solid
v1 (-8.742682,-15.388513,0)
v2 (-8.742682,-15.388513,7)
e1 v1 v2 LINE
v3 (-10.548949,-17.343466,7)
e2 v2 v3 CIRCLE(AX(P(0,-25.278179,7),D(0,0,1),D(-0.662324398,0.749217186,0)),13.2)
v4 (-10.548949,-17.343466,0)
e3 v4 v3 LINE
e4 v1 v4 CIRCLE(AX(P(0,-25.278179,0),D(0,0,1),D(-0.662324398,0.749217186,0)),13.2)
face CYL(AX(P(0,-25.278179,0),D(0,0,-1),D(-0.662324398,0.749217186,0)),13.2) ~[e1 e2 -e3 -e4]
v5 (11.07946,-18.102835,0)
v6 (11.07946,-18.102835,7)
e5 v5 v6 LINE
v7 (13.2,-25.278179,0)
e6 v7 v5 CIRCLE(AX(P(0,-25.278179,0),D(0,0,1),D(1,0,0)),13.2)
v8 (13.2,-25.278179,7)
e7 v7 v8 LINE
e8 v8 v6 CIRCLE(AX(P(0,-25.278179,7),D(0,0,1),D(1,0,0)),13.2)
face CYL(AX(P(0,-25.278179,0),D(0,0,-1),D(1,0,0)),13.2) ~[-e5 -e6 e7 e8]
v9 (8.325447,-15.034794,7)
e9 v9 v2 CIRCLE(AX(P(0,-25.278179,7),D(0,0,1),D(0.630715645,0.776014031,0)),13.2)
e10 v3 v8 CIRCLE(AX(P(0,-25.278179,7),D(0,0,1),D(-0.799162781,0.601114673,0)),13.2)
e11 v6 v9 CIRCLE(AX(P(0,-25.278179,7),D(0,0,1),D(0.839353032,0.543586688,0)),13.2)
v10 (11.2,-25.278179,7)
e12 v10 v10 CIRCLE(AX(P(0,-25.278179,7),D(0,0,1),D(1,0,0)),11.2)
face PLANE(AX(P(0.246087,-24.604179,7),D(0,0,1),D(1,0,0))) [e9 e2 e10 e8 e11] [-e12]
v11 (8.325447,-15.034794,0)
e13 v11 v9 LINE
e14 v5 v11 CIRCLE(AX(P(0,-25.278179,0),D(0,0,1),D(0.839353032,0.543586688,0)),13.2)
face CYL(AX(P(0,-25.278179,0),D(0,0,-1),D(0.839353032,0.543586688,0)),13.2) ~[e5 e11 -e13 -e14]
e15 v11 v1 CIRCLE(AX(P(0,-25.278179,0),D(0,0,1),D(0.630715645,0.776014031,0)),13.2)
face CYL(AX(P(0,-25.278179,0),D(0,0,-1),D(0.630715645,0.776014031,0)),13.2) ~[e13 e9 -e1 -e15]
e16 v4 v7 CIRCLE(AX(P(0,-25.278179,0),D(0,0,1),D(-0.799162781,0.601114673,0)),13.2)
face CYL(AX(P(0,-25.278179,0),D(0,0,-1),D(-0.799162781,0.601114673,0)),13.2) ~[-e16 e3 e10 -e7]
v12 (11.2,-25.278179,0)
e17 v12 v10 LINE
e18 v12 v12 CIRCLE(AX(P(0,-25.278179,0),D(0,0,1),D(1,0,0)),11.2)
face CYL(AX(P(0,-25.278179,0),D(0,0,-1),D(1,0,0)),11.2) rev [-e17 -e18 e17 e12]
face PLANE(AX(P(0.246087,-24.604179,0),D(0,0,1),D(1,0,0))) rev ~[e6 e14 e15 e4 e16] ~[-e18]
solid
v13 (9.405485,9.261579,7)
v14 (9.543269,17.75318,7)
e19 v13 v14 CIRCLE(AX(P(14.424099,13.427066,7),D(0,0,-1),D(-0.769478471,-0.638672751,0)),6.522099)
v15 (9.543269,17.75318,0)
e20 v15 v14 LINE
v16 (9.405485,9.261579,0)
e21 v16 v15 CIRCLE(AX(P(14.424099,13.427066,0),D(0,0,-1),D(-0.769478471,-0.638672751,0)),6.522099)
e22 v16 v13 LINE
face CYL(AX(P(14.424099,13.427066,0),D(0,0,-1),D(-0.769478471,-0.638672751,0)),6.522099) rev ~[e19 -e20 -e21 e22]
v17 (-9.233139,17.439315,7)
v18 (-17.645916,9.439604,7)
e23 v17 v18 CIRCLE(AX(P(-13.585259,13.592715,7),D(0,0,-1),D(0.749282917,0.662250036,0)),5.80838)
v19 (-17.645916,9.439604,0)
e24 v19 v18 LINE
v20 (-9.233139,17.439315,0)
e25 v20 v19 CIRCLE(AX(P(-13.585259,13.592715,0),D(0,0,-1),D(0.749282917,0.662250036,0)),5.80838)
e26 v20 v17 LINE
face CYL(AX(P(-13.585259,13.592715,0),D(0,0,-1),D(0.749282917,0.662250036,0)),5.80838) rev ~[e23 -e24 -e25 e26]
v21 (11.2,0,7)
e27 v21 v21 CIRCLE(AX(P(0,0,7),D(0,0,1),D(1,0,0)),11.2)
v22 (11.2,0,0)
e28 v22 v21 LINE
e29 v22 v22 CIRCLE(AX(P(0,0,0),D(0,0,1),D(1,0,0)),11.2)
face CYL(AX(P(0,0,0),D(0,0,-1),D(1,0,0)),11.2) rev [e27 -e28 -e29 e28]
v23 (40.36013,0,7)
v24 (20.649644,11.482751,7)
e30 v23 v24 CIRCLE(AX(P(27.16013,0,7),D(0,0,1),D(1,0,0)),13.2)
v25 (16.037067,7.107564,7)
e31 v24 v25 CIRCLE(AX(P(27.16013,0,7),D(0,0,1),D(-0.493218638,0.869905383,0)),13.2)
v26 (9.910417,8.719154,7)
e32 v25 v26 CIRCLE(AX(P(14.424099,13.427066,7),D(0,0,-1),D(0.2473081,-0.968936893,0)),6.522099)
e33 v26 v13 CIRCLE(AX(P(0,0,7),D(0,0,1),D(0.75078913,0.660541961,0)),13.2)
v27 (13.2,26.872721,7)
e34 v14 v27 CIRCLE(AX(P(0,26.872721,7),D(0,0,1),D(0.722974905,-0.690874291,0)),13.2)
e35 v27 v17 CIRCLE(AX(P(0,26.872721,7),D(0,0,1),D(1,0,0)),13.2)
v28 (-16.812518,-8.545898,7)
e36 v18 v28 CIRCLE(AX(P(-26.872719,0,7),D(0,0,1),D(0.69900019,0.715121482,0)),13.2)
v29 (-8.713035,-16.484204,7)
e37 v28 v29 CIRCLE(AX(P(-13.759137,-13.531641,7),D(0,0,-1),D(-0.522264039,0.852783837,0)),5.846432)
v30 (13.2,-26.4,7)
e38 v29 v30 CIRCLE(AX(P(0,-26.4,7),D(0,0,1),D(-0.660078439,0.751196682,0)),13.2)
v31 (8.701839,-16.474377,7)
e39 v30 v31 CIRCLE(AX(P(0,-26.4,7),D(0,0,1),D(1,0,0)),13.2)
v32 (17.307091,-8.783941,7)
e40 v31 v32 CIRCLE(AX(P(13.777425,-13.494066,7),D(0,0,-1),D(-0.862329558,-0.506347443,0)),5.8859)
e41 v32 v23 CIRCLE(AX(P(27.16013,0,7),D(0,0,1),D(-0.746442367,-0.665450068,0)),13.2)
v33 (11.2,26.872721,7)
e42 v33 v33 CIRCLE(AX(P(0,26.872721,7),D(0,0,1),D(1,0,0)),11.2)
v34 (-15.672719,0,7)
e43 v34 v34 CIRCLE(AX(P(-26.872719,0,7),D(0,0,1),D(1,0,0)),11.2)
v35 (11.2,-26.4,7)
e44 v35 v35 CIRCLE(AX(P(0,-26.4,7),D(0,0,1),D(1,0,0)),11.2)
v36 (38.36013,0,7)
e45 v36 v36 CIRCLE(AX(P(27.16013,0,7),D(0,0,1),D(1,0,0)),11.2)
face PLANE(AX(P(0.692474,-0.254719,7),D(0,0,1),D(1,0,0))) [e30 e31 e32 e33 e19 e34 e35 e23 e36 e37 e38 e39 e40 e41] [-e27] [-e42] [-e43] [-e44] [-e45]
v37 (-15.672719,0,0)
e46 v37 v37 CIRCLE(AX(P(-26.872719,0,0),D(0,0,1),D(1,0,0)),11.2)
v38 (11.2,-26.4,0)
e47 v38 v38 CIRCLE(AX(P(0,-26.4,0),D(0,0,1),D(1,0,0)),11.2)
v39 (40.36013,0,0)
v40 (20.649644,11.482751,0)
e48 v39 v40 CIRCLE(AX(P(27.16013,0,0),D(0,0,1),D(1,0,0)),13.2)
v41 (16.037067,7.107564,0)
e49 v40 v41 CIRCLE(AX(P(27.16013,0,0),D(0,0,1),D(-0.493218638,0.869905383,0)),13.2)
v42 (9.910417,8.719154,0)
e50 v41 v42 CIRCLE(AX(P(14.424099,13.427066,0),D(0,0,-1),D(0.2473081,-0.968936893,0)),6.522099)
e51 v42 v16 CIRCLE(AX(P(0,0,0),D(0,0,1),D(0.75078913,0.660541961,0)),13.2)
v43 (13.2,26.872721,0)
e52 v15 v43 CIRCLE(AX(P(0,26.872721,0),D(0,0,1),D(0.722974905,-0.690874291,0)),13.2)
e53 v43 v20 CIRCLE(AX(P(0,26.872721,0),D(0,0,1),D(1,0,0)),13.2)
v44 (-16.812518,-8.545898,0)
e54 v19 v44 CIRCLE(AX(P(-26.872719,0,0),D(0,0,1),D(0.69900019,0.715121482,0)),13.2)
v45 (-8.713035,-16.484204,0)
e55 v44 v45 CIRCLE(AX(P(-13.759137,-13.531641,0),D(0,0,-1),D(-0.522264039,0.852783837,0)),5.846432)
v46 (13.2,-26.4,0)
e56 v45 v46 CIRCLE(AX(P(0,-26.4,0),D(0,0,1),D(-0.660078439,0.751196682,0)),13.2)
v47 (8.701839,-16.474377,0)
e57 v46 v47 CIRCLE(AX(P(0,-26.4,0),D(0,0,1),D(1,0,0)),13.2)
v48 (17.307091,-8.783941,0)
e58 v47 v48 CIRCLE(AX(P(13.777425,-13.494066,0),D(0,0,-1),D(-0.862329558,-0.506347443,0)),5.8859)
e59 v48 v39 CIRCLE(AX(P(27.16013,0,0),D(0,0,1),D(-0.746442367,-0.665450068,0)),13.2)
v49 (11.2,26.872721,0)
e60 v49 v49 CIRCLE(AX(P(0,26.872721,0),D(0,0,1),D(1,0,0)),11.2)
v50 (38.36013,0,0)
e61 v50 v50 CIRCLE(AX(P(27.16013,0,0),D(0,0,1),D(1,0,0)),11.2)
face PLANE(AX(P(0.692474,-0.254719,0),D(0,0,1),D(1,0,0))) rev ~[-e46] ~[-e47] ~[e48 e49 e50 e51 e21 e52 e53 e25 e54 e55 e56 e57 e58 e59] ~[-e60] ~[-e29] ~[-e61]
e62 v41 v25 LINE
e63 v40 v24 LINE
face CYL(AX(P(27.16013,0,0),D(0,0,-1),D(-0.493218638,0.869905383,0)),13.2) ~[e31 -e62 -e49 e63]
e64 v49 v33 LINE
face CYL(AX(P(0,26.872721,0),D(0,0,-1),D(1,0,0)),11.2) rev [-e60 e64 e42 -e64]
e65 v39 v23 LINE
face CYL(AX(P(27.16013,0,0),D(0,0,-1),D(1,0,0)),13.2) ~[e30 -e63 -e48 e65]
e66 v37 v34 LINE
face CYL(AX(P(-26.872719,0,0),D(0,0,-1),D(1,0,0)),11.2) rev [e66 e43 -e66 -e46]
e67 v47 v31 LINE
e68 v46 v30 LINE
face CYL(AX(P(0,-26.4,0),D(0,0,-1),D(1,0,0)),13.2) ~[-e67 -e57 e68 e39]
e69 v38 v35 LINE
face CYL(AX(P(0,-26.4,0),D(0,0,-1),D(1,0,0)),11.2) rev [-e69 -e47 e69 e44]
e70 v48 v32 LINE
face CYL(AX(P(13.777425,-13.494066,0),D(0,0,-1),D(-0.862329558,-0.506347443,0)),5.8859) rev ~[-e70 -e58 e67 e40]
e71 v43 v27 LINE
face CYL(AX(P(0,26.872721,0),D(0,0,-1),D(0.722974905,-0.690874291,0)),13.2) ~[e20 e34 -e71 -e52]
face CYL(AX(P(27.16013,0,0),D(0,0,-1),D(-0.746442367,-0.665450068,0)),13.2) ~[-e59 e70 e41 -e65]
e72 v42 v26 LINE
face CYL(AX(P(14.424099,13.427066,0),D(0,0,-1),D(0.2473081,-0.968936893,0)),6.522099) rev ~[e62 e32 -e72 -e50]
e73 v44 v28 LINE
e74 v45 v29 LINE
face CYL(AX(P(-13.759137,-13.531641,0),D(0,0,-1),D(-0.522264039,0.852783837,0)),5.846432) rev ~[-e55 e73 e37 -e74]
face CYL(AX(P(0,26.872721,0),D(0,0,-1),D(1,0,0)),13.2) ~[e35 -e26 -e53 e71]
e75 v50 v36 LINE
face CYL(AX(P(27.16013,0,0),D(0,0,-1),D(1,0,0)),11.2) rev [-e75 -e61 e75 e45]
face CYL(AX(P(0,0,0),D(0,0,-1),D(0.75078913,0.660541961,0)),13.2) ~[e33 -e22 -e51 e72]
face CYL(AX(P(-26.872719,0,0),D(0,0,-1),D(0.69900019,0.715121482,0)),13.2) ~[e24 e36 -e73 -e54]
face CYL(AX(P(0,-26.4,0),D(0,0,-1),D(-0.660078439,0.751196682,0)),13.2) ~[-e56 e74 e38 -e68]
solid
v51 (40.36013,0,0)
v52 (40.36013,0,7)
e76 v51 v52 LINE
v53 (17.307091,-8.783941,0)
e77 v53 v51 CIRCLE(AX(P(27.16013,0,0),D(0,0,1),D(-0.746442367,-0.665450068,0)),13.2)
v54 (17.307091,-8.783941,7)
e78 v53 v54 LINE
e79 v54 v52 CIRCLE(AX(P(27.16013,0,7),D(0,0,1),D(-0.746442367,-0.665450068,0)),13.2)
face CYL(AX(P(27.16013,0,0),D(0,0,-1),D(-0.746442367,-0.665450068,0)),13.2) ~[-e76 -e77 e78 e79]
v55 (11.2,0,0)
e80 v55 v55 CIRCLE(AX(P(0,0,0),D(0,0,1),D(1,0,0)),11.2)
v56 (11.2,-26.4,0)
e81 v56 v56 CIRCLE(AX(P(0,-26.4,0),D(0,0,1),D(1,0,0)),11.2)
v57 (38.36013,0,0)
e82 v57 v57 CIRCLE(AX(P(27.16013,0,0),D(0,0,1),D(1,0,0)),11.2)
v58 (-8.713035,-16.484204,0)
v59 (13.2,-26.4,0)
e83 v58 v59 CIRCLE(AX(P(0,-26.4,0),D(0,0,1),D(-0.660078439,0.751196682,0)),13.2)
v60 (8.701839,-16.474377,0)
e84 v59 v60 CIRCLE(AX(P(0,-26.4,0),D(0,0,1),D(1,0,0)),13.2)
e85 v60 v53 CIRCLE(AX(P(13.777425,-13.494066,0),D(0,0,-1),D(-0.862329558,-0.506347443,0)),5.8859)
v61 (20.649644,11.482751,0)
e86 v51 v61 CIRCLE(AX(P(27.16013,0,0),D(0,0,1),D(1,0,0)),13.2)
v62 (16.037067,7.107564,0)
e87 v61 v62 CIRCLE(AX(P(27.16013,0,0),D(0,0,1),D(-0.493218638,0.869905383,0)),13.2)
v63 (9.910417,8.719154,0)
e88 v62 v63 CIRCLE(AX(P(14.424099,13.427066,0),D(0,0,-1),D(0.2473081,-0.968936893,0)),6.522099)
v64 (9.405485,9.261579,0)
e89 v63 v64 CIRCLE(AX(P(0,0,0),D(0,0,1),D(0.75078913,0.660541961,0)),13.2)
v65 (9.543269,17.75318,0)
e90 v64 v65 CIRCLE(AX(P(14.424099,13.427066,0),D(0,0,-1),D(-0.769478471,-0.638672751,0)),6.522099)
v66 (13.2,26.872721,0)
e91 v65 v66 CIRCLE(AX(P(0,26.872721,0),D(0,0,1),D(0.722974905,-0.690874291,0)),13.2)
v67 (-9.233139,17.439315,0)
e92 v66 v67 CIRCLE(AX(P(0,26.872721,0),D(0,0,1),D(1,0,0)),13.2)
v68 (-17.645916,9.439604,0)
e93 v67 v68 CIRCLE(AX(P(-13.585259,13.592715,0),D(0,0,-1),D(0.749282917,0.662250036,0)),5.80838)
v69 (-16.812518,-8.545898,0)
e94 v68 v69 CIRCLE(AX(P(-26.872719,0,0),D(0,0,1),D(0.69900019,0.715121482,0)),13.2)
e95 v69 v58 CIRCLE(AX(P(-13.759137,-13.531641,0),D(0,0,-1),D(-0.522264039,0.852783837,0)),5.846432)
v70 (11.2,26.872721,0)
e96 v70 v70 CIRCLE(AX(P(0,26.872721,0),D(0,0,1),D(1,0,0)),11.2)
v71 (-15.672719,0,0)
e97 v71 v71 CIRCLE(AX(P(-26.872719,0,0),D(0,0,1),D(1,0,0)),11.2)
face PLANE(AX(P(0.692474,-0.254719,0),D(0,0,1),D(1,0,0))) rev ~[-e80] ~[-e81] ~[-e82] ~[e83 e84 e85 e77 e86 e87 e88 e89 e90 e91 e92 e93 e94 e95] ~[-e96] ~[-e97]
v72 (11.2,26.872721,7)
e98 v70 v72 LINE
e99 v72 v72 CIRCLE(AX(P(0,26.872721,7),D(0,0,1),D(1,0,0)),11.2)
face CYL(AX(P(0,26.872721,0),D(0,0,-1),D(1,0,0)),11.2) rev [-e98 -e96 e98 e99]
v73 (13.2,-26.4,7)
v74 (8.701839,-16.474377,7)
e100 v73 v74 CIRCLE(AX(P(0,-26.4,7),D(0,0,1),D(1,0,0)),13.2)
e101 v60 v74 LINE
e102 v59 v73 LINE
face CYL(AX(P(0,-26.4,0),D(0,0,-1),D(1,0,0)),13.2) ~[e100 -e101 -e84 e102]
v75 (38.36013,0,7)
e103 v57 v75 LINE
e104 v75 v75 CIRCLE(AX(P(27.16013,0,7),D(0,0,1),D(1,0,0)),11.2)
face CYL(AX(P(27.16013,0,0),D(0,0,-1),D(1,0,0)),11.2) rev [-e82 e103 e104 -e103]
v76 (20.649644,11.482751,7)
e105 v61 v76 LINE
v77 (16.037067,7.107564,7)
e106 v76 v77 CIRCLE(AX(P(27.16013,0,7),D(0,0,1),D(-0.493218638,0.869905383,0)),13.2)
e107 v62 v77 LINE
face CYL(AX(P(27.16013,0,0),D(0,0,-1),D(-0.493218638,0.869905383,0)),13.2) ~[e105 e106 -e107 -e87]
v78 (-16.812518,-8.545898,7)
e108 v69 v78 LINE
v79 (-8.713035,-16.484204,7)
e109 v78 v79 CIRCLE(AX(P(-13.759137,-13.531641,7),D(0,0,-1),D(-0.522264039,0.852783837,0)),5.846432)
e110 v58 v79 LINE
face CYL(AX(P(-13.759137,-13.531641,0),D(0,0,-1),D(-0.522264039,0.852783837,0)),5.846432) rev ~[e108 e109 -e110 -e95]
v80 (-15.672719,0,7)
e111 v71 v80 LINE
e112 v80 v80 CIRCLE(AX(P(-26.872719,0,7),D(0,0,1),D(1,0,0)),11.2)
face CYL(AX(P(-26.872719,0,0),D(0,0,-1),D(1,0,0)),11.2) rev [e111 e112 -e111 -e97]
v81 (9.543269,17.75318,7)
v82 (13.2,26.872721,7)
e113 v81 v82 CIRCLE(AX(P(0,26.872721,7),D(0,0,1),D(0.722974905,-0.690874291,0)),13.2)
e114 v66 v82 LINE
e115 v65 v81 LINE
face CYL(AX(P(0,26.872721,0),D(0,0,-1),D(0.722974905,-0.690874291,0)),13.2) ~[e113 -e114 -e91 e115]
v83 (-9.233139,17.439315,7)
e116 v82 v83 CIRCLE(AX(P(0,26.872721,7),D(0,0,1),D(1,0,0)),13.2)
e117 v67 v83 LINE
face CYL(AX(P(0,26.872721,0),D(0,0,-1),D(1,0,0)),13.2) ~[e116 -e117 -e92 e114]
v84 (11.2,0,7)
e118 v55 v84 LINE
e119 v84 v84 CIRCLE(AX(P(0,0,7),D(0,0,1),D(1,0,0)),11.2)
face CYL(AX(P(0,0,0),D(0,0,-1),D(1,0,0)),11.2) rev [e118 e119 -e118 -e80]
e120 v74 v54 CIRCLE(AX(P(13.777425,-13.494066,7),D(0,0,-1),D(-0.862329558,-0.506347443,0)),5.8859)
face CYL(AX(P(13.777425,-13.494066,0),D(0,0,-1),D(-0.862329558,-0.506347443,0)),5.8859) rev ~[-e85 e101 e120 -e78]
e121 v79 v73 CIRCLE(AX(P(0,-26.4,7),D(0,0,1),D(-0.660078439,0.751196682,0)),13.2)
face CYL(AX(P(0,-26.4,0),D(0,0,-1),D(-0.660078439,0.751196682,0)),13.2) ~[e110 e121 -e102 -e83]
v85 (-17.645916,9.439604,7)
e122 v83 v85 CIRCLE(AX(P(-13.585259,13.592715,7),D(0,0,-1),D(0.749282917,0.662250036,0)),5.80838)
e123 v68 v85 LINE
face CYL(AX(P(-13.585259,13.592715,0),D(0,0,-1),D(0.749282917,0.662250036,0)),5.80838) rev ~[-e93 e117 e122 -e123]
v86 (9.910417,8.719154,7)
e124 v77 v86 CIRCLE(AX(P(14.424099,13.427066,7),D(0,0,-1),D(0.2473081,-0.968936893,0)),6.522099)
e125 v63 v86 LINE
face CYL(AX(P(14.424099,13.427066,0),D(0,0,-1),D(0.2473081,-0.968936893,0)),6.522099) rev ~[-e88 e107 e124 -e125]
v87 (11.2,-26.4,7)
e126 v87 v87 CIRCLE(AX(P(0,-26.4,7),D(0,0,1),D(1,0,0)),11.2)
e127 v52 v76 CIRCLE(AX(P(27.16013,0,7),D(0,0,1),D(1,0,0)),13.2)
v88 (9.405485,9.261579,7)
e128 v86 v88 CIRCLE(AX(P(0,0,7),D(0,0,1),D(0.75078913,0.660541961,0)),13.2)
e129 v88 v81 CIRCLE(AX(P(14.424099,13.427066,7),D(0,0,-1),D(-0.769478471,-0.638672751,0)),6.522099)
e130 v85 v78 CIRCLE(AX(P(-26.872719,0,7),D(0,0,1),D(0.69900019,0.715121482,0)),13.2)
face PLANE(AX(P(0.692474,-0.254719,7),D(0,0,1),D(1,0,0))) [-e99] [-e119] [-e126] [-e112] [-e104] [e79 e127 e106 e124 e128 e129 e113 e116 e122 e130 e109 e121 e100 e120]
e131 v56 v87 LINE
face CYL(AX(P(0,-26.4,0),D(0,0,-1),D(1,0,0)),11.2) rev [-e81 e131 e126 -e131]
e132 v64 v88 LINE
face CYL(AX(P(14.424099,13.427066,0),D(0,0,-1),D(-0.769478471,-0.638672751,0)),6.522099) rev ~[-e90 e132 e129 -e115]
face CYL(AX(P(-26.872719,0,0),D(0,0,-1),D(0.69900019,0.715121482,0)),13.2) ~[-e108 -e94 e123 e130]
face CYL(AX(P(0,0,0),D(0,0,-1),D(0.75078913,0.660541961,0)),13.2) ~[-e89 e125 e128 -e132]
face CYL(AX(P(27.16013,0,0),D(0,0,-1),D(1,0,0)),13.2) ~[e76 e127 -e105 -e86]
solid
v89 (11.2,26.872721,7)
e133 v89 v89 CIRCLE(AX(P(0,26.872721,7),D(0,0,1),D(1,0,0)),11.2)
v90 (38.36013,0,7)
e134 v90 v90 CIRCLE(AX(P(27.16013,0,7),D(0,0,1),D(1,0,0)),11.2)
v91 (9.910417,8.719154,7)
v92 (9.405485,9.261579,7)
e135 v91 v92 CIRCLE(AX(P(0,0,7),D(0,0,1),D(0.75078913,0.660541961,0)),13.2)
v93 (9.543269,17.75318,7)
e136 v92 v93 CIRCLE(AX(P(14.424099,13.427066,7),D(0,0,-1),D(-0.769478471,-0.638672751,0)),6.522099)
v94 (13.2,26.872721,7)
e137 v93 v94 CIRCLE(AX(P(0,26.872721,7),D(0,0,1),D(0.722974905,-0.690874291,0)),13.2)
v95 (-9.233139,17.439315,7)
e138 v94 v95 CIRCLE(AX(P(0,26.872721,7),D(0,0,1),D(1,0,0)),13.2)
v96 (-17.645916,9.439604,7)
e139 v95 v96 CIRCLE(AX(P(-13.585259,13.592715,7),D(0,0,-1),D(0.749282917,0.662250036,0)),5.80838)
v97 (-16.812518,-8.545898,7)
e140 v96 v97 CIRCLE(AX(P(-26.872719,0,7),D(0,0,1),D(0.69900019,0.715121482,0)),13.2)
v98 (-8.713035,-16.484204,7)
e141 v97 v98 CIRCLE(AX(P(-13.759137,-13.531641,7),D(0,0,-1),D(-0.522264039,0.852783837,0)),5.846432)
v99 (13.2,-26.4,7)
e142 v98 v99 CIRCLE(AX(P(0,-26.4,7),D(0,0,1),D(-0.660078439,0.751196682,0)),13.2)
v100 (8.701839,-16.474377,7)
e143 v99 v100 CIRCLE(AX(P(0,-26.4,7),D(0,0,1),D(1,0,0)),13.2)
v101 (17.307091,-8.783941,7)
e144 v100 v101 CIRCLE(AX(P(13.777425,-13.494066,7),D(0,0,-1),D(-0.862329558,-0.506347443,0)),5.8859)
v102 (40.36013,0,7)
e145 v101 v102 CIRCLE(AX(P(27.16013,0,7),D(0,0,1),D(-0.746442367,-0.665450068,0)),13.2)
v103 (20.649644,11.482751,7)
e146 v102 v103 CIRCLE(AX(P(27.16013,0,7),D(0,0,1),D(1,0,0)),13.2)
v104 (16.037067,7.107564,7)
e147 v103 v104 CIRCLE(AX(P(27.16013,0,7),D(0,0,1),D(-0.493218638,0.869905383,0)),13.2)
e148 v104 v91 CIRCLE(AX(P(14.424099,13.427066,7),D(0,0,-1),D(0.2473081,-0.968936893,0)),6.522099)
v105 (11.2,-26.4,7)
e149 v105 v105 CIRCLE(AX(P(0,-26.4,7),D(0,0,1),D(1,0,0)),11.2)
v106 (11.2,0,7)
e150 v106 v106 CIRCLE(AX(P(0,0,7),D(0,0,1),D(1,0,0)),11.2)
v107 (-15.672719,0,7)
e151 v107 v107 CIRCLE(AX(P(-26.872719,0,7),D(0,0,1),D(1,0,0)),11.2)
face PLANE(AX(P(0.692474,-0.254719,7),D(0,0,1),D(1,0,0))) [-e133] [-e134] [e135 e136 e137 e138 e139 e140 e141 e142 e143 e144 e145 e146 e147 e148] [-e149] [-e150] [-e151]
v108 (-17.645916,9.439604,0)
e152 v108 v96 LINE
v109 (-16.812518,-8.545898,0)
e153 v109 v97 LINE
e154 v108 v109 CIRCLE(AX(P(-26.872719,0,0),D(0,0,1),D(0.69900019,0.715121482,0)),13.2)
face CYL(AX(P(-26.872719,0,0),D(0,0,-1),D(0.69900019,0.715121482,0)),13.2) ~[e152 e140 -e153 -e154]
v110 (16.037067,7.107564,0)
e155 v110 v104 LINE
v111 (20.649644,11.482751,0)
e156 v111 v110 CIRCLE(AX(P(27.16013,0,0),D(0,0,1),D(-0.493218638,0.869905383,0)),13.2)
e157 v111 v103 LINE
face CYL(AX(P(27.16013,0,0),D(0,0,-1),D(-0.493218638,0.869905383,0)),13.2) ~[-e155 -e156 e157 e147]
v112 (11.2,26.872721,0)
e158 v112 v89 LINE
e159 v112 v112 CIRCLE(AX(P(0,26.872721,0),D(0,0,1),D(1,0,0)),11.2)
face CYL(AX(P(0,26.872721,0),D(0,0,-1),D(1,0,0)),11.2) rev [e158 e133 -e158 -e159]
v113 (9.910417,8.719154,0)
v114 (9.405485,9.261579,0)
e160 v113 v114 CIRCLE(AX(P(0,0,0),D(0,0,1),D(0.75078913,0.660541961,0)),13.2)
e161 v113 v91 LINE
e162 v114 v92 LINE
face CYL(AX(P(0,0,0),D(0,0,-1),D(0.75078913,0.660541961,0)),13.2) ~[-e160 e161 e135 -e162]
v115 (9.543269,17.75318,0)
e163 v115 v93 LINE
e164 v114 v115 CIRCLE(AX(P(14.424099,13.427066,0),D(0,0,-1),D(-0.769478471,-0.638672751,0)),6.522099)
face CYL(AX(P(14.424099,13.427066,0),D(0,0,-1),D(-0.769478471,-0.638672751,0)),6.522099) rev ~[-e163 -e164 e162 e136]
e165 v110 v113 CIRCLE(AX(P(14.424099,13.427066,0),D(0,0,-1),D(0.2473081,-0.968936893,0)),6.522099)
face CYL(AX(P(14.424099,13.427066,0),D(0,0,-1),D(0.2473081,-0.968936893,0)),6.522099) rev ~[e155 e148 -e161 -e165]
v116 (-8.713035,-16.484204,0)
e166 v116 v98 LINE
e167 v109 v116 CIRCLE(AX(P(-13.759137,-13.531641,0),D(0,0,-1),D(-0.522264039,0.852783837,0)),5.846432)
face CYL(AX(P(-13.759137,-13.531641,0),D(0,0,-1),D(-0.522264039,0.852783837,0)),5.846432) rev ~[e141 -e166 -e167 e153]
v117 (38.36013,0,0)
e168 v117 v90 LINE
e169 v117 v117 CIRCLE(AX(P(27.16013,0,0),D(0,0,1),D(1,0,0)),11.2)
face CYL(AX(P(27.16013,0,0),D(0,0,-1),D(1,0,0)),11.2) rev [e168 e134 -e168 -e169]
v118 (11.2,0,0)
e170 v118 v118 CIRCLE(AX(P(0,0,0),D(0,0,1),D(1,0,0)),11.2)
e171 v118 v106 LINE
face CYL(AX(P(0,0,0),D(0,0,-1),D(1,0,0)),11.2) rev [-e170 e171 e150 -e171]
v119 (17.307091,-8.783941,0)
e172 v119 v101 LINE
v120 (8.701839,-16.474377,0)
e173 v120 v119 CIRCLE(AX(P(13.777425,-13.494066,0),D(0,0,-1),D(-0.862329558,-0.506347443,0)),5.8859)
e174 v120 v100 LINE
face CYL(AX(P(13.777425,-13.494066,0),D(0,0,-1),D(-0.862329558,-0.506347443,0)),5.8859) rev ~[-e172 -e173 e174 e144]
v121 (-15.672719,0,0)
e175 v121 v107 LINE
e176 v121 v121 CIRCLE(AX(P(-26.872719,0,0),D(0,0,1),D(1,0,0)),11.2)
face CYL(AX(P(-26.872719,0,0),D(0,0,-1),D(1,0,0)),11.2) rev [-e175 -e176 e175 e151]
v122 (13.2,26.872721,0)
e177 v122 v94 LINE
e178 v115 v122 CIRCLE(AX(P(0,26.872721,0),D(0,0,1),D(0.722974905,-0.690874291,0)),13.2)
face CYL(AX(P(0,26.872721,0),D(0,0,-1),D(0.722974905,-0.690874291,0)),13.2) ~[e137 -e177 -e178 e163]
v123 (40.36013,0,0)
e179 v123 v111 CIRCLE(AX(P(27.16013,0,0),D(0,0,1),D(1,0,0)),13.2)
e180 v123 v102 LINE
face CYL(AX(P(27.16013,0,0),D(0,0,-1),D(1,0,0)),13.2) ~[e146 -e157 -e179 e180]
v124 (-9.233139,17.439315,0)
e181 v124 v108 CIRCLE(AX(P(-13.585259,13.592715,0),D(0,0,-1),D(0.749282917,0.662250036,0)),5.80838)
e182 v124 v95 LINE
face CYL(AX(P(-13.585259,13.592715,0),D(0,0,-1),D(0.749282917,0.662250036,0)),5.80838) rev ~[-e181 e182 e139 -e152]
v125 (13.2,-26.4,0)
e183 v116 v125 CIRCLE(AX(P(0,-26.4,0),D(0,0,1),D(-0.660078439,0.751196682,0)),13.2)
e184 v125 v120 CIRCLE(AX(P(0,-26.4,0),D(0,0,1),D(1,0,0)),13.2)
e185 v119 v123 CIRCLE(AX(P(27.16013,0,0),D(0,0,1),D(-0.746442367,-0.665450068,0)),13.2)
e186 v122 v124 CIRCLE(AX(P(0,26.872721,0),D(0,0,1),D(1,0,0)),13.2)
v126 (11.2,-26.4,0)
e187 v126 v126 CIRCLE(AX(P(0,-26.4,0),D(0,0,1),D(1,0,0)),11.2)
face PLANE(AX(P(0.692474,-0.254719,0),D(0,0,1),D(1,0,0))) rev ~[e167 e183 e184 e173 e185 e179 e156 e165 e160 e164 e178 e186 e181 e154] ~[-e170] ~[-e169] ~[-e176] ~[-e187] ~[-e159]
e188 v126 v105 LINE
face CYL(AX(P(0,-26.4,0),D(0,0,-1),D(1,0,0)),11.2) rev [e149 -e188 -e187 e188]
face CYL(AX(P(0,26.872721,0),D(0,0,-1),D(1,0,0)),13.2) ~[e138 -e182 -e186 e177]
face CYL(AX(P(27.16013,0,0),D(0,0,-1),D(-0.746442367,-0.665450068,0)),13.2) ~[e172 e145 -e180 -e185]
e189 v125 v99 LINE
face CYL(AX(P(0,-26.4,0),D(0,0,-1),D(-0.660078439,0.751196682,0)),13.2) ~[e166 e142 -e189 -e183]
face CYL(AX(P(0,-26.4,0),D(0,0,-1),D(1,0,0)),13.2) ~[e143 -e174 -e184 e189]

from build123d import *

# Parameters (mm, degrees)
F1_R     = 11.2
F2_DEPTH = 7
F0_R     = 11.2
F3_DEPTH = 7
F4_DEPTH = 7


with BuildPart() as f2:
    # F1 (on Top) → F2 (new body)
    with BuildSketch(Plane.XY):
        with BuildLine():
            ThreePointArc((-10.5489487054, -17.3434656757), (-4.1829342027, -37.7978862811), (13.2, -25.2781793574))
            ThreePointArc((13.2, -25.2781793574), (12.6587691404, -21.5371148232), (11.0794600228, -18.1028350728))
            ThreePointArc((11.0794600228, -18.1028350728), (9.4155916224, -16.8263147129), (8.3254465086, -15.0347941536))
            ThreePointArc((8.3254465086, -15.0347941536), (-0.2734968825, -12.0810130155), (-8.7426820596, -15.3885125074))
            ThreePointArc((-8.7426820596, -15.3885125074), (-9.5323363151, -16.4708373599), (-10.5489487054, -17.3434656757))
        make_face()
        with Locations((0, -25.2781793574)):
            Circle(F1_R, mode=Mode.SUBTRACT)
        with BuildLine():
            ThreePointArc((8.3254465086, -15.0347941536), (9.4155916224, -16.8263147129), (11.0794600228, -18.1028350728))
            ThreePointArc((11.0794600228, -18.1028350728), (9.8229739969, -16.4606297059), (8.3254465086, -15.0347941536))
        make_face()
        with BuildLine():
            ThreePointArc((-8.7426820596, -15.3885125074), (-9.6952160814, -16.3203456274), (-10.5489487054, -17.3434656757))
            ThreePointArc((-10.5489487054, -17.3434656757), (-9.5323363151, -16.4708373599), (-8.7426820596, -15.3885125074))
        make_face()
    extrude(amount=F2_DEPTH)


with BuildPart() as f2b:
    # F0 (on Top) → F2, piece 2 (new body)
    with BuildSketch(Plane.XY):
        with BuildLine():
            ThreePointArc((0, -13.2), (9.3338095117, -9.3338095117), (13.2, 0))
            ThreePointArc((13.2, 0), (12.3502529943, 4.6595333433), (9.9104165185, 8.7191538826))
            ThreePointArc((9.9104165185, 8.7191538826), (9.6502404629, 8.9831892619), (9.4054850115, 9.2615793307))
            ThreePointArc((9.4054850115, 9.2615793307), (-12.1756487951, 5.0983895906), (0, -13.2))
        make_face()
        Circle(F0_R, mode=Mode.SUBTRACT)
        with BuildLine():
            ThreePointArc((9.9104165185, 8.7191538826), (12.3502529943, 4.6595333433), (13.2, 0))
            ThreePointArc((13.2, 0), (9.3338095117, -9.3338095117), (0, -13.2))
            ThreePointArc((0, -13.2), (4.6487513187, -14.045684512), (8.701839457, -16.4743770943))
            ThreePointArc((8.701839457, -16.4743770943), (9.8552869894, -9.1053702708), (17.3070911958, -8.783940894))
            ThreePointArc((17.3070911958, -8.783940894), (14.0020834746, -1.0515702669), (16.0370673001, 7.1075640243))
            ThreePointArc((16.0370673001, 7.1075640243), (12.7649302451, 7.119536543), (9.9104165185, 8.7191538826))
        make_face()
        with BuildLine():
            ThreePointArc((9.4054850115, 9.2615793307), (9.6502404629, 8.9831892619), (9.9104165185, 8.7191538826))
            ThreePointArc((9.9104165185, 8.7191538826), (9.6617580865, 8.9939107555), (9.4054850115, 9.2615793307))
        make_face()
        with BuildLine():
            ThreePointArc((-8.713035392, -16.4842038011), (-4.6557217579, -14.0483096334), (0, -13.2))
            ThreePointArc((0, -13.2), (-12.1756487951, 5.0983895906), (9.4054850115, 9.2615793307))
            ThreePointArc((9.4054850115, 9.2615793307), (7.9028592629, 13.5328788929), (9.5432687503, 17.7531799253))
            ThreePointArc((9.5432687503, 17.7531799253), (0.2206192995, 13.6745643677), (-9.2331392194, 17.4393150255))
            ThreePointArc((-9.2331392194, 17.4393150255), (-9.5827492764, 9.3835359062), (-17.6459161995, 9.4396035665))
            ThreePointArc((-17.6459161995, 9.4396035665), (-14.7064992221, 5.1208498759), (-13.6727187067, 0))
            ThreePointArc((-13.6727187067, 0), (-14.4825079882, -4.5522168612), (-16.8125184569, -8.5458979009))
            ThreePointArc((-16.8125184569, -8.5458979009), (-9.6668383998, -9.3562532479), (-8.713035392, -16.4842038011))
        make_face()
        with BuildLine():
            ThreePointArc((8.701839457, -16.4743770943), (4.6487513187, -14.045684512), (0, -13.2))
            ThreePointArc((0, -13.2), (-4.6557217579, -14.0483096334), (-8.713035392, -16.4842038011))
            ThreePointArc((-8.713035392, -16.4842038011), (-5.441871591, -38.4260564437), (13.2, -26.4))
            ThreePointArc((13.2, -26.4), (12.02298384, -20.951343323), (8.701839457, -16.4743770943))
        make_face()
        with Locations((0, -26.4)):
            Circle(F0_R, mode=Mode.SUBTRACT)
        with BuildLine():
            ThreePointArc((20.6496444177, 11.4827510527), (18.9125441937, 8.695086028), (16.0370673001, 7.1075640243))
            ThreePointArc((16.0370673001, 7.1075640243), (14.0020834746, -1.0515702669), (17.3070911958, -8.783940894))
            ThreePointArc((17.3070911958, -8.783940894), (31.8601241625, -12.3349122015), (40.3601304412, 0))
            ThreePointArc((40.3601304412, 0), (33.8047366932, 11.405665599), (20.6496444177, 11.4827510527))
        make_face()
        with Locations((27.1601304412, 0)):
            Circle(F0_R, mode=Mode.SUBTRACT)
        with BuildLine():
            ThreePointArc((20.6496444177, 11.4827510527), (18.0760190692, 9.5769995605), (16.0370673001, 7.1075640243))
            ThreePointArc((16.0370673001, 7.1075640243), (18.9125441937, 8.695086028), (20.6496444177, 11.4827510527))
        make_face()
        with BuildLine():
            ThreePointArc((-9.2331392194, 17.4393150255), (0.2206192995, 13.6745643677), (9.5432687503, 17.7531799253))
            ThreePointArc((9.5432687503, 17.7531799253), (12.2517579862, 21.9600404202), (13.2, 26.8727205694))
            ThreePointArc((13.2, 26.8727205694), (-5.1167647153, 39.0406587204), (-9.2331392194, 17.4393150255))
        make_face()
        with Locations((0, 26.8727205694)):
            Circle(F0_R, mode=Mode.SUBTRACT)
        with BuildLine():
            ThreePointArc((-17.6459161995, 9.4396035665), (-40.0585703894, -0.6109954202), (-16.8125184569, -8.5458979009))
            ThreePointArc((-16.8125184569, -8.5458979009), (-14.4825079882, -4.5522168612), (-13.6727187067, 0))
            ThreePointArc((-13.6727187067, 0), (-14.7064992221, 5.1208498759), (-17.6459161995, 9.4396035665))
        make_face()
        with Locations((-26.8727187067, 0)):
            Circle(F0_R, mode=Mode.SUBTRACT)
    extrude(amount=F2_DEPTH)


with BuildPart() as f3:
    # F0 (on Top) → F3 (new body)
    with BuildSketch(Plane.XY):
        with BuildLine():
            ThreePointArc((0, -13.2), (9.3338095117, -9.3338095117), (13.2, 0))
            ThreePointArc((13.2, 0), (12.3502529943, 4.6595333433), (9.9104165185, 8.7191538826))
            ThreePointArc((9.9104165185, 8.7191538826), (9.6502404629, 8.9831892619), (9.4054850115, 9.2615793307))
            ThreePointArc((9.4054850115, 9.2615793307), (-12.1756487951, 5.0983895906), (0, -13.2))
        make_face()
        Circle(F0_R, mode=Mode.SUBTRACT)
        with BuildLine():
            ThreePointArc((9.9104165185, 8.7191538826), (12.3502529943, 4.6595333433), (13.2, 0))
            ThreePointArc((13.2, 0), (9.3338095117, -9.3338095117), (0, -13.2))
            ThreePointArc((0, -13.2), (4.6487513187, -14.045684512), (8.701839457, -16.4743770943))
            ThreePointArc((8.701839457, -16.4743770943), (9.8552869894, -9.1053702708), (17.3070911958, -8.783940894))
            ThreePointArc((17.3070911958, -8.783940894), (14.0020834746, -1.0515702669), (16.0370673001, 7.1075640243))
            ThreePointArc((16.0370673001, 7.1075640243), (12.7649302451, 7.119536543), (9.9104165185, 8.7191538826))
        make_face()
        with BuildLine():
            ThreePointArc((9.4054850115, 9.2615793307), (9.6502404629, 8.9831892619), (9.9104165185, 8.7191538826))
            ThreePointArc((9.9104165185, 8.7191538826), (9.6617580865, 8.9939107555), (9.4054850115, 9.2615793307))
        make_face()
        with BuildLine():
            ThreePointArc((-8.713035392, -16.4842038011), (-4.6557217579, -14.0483096334), (0, -13.2))
            ThreePointArc((0, -13.2), (-12.1756487951, 5.0983895906), (9.4054850115, 9.2615793307))
            ThreePointArc((9.4054850115, 9.2615793307), (7.9028592629, 13.5328788929), (9.5432687503, 17.7531799253))
            ThreePointArc((9.5432687503, 17.7531799253), (0.2206192995, 13.6745643677), (-9.2331392194, 17.4393150255))
            ThreePointArc((-9.2331392194, 17.4393150255), (-9.5827492764, 9.3835359062), (-17.6459161995, 9.4396035665))
            ThreePointArc((-17.6459161995, 9.4396035665), (-14.7064992221, 5.1208498759), (-13.6727187067, 0))
            ThreePointArc((-13.6727187067, 0), (-14.4825079882, -4.5522168612), (-16.8125184569, -8.5458979009))
            ThreePointArc((-16.8125184569, -8.5458979009), (-9.6668383998, -9.3562532479), (-8.713035392, -16.4842038011))
        make_face()
        with BuildLine():
            ThreePointArc((8.701839457, -16.4743770943), (4.6487513187, -14.045684512), (0, -13.2))
            ThreePointArc((0, -13.2), (-4.6557217579, -14.0483096334), (-8.713035392, -16.4842038011))
            ThreePointArc((-8.713035392, -16.4842038011), (-5.441871591, -38.4260564437), (13.2, -26.4))
            ThreePointArc((13.2, -26.4), (12.02298384, -20.951343323), (8.701839457, -16.4743770943))
        make_face()
        with Locations((0, -26.4)):
            Circle(F0_R, mode=Mode.SUBTRACT)
        with BuildLine():
            ThreePointArc((20.6496444177, 11.4827510527), (18.9125441937, 8.695086028), (16.0370673001, 7.1075640243))
            ThreePointArc((16.0370673001, 7.1075640243), (14.0020834746, -1.0515702669), (17.3070911958, -8.783940894))
            ThreePointArc((17.3070911958, -8.783940894), (31.8601241625, -12.3349122015), (40.3601304412, 0))
            ThreePointArc((40.3601304412, 0), (33.8047366932, 11.405665599), (20.6496444177, 11.4827510527))
        make_face()
        with Locations((27.1601304412, 0)):
            Circle(F0_R, mode=Mode.SUBTRACT)
        with BuildLine():
            ThreePointArc((20.6496444177, 11.4827510527), (18.0760190692, 9.5769995605), (16.0370673001, 7.1075640243))
            ThreePointArc((16.0370673001, 7.1075640243), (18.9125441937, 8.695086028), (20.6496444177, 11.4827510527))
        make_face()
        with BuildLine():
            ThreePointArc((-9.2331392194, 17.4393150255), (0.2206192995, 13.6745643677), (9.5432687503, 17.7531799253))
            ThreePointArc((9.5432687503, 17.7531799253), (12.2517579862, 21.9600404202), (13.2, 26.8727205694))
            ThreePointArc((13.2, 26.8727205694), (-5.1167647153, 39.0406587204), (-9.2331392194, 17.4393150255))
        make_face()
        with Locations((0, 26.8727205694)):
            Circle(F0_R, mode=Mode.SUBTRACT)
        with BuildLine():
            ThreePointArc((-17.6459161995, 9.4396035665), (-40.0585703894, -0.6109954202), (-16.8125184569, -8.5458979009))
            ThreePointArc((-16.8125184569, -8.5458979009), (-14.4825079882, -4.5522168612), (-13.6727187067, 0))
            ThreePointArc((-13.6727187067, 0), (-14.7064992221, 5.1208498759), (-17.6459161995, 9.4396035665))
        make_face()
        with Locations((-26.8727187067, 0)):
            Circle(F0_R, mode=Mode.SUBTRACT)
    extrude(amount=F3_DEPTH)


with BuildPart() as f4:
    # F0 (on Top) → F4 (new body)
    with BuildSketch(Plane.XY):
        with BuildLine():
            ThreePointArc((0, -13.2), (9.3338095117, -9.3338095117), (13.2, 0))
            ThreePointArc((13.2, 0), (12.3502529943, 4.6595333433), (9.9104165185, 8.7191538826))
            ThreePointArc((9.9104165185, 8.7191538826), (9.6502404629, 8.9831892619), (9.4054850115, 9.2615793307))
            ThreePointArc((9.4054850115, 9.2615793307), (-12.1756487951, 5.0983895906), (0, -13.2))
        make_face()
        Circle(F0_R, mode=Mode.SUBTRACT)
        with BuildLine():
            ThreePointArc((9.9104165185, 8.7191538826), (12.3502529943, 4.6595333433), (13.2, 0))
            ThreePointArc((13.2, 0), (9.3338095117, -9.3338095117), (0, -13.2))
            ThreePointArc((0, -13.2), (4.6487513187, -14.045684512), (8.701839457, -16.4743770943))
            ThreePointArc((8.701839457, -16.4743770943), (9.8552869894, -9.1053702708), (17.3070911958, -8.783940894))
            ThreePointArc((17.3070911958, -8.783940894), (14.0020834746, -1.0515702669), (16.0370673001, 7.1075640243))
            ThreePointArc((16.0370673001, 7.1075640243), (12.7649302451, 7.119536543), (9.9104165185, 8.7191538826))
        make_face()
        with BuildLine():
            ThreePointArc((9.4054850115, 9.2615793307), (9.6502404629, 8.9831892619), (9.9104165185, 8.7191538826))
            ThreePointArc((9.9104165185, 8.7191538826), (9.6617580865, 8.9939107555), (9.4054850115, 9.2615793307))
        make_face()
        with BuildLine():
            ThreePointArc((-8.713035392, -16.4842038011), (-4.6557217579, -14.0483096334), (0, -13.2))
            ThreePointArc((0, -13.2), (-12.1756487951, 5.0983895906), (9.4054850115, 9.2615793307))
            ThreePointArc((9.4054850115, 9.2615793307), (7.9028592629, 13.5328788929), (9.5432687503, 17.7531799253))
            ThreePointArc((9.5432687503, 17.7531799253), (0.2206192995, 13.6745643677), (-9.2331392194, 17.4393150255))
            ThreePointArc((-9.2331392194, 17.4393150255), (-9.5827492764, 9.3835359062), (-17.6459161995, 9.4396035665))
            ThreePointArc((-17.6459161995, 9.4396035665), (-14.7064992221, 5.1208498759), (-13.6727187067, 0))
            ThreePointArc((-13.6727187067, 0), (-14.4825079882, -4.5522168612), (-16.8125184569, -8.5458979009))
            ThreePointArc((-16.8125184569, -8.5458979009), (-9.6668383998, -9.3562532479), (-8.713035392, -16.4842038011))
        make_face()
        with BuildLine():
            ThreePointArc((8.701839457, -16.4743770943), (4.6487513187, -14.045684512), (0, -13.2))
            ThreePointArc((0, -13.2), (-4.6557217579, -14.0483096334), (-8.713035392, -16.4842038011))
            ThreePointArc((-8.713035392, -16.4842038011), (-5.441871591, -38.4260564437), (13.2, -26.4))
            ThreePointArc((13.2, -26.4), (12.02298384, -20.951343323), (8.701839457, -16.4743770943))
        make_face()
        with Locations((0, -26.4)):
            Circle(F0_R, mode=Mode.SUBTRACT)
        with BuildLine():
            ThreePointArc((20.6496444177, 11.4827510527), (18.9125441937, 8.695086028), (16.0370673001, 7.1075640243))
            ThreePointArc((16.0370673001, 7.1075640243), (14.0020834746, -1.0515702669), (17.3070911958, -8.783940894))
            ThreePointArc((17.3070911958, -8.783940894), (31.8601241625, -12.3349122015), (40.3601304412, 0))
            ThreePointArc((40.3601304412, 0), (33.8047366932, 11.405665599), (20.6496444177, 11.4827510527))
        make_face()
        with Locations((27.1601304412, 0)):
            Circle(F0_R, mode=Mode.SUBTRACT)
        with BuildLine():
            ThreePointArc((20.6496444177, 11.4827510527), (18.0760190692, 9.5769995605), (16.0370673001, 7.1075640243))
            ThreePointArc((16.0370673001, 7.1075640243), (18.9125441937, 8.695086028), (20.6496444177, 11.4827510527))
        make_face()
        with BuildLine():
            ThreePointArc((-9.2331392194, 17.4393150255), (0.2206192995, 13.6745643677), (9.5432687503, 17.7531799253))
            ThreePointArc((9.5432687503, 17.7531799253), (12.2517579862, 21.9600404202), (13.2, 26.8727205694))
            ThreePointArc((13.2, 26.8727205694), (-5.1167647153, 39.0406587204), (-9.2331392194, 17.4393150255))
        make_face()
        with Locations((0, 26.8727205694)):
            Circle(F0_R, mode=Mode.SUBTRACT)
        with BuildLine():
            ThreePointArc((-17.6459161995, 9.4396035665), (-40.0585703894, -0.6109954202), (-16.8125184569, -8.5458979009))
            ThreePointArc((-16.8125184569, -8.5458979009), (-14.4825079882, -4.5522168612), (-13.6727187067, 0))
            ThreePointArc((-13.6727187067, 0), (-14.7064992221, 5.1208498759), (-17.6459161995, 9.4396035665))
        make_face()
        with Locations((-26.8727187067, 0)):
            Circle(F0_R, mode=Mode.SUBTRACT)
    extrude(amount=F4_DEPTH)


solid = Compound([f2.part, f2b.part, f3.part, f4.part])
